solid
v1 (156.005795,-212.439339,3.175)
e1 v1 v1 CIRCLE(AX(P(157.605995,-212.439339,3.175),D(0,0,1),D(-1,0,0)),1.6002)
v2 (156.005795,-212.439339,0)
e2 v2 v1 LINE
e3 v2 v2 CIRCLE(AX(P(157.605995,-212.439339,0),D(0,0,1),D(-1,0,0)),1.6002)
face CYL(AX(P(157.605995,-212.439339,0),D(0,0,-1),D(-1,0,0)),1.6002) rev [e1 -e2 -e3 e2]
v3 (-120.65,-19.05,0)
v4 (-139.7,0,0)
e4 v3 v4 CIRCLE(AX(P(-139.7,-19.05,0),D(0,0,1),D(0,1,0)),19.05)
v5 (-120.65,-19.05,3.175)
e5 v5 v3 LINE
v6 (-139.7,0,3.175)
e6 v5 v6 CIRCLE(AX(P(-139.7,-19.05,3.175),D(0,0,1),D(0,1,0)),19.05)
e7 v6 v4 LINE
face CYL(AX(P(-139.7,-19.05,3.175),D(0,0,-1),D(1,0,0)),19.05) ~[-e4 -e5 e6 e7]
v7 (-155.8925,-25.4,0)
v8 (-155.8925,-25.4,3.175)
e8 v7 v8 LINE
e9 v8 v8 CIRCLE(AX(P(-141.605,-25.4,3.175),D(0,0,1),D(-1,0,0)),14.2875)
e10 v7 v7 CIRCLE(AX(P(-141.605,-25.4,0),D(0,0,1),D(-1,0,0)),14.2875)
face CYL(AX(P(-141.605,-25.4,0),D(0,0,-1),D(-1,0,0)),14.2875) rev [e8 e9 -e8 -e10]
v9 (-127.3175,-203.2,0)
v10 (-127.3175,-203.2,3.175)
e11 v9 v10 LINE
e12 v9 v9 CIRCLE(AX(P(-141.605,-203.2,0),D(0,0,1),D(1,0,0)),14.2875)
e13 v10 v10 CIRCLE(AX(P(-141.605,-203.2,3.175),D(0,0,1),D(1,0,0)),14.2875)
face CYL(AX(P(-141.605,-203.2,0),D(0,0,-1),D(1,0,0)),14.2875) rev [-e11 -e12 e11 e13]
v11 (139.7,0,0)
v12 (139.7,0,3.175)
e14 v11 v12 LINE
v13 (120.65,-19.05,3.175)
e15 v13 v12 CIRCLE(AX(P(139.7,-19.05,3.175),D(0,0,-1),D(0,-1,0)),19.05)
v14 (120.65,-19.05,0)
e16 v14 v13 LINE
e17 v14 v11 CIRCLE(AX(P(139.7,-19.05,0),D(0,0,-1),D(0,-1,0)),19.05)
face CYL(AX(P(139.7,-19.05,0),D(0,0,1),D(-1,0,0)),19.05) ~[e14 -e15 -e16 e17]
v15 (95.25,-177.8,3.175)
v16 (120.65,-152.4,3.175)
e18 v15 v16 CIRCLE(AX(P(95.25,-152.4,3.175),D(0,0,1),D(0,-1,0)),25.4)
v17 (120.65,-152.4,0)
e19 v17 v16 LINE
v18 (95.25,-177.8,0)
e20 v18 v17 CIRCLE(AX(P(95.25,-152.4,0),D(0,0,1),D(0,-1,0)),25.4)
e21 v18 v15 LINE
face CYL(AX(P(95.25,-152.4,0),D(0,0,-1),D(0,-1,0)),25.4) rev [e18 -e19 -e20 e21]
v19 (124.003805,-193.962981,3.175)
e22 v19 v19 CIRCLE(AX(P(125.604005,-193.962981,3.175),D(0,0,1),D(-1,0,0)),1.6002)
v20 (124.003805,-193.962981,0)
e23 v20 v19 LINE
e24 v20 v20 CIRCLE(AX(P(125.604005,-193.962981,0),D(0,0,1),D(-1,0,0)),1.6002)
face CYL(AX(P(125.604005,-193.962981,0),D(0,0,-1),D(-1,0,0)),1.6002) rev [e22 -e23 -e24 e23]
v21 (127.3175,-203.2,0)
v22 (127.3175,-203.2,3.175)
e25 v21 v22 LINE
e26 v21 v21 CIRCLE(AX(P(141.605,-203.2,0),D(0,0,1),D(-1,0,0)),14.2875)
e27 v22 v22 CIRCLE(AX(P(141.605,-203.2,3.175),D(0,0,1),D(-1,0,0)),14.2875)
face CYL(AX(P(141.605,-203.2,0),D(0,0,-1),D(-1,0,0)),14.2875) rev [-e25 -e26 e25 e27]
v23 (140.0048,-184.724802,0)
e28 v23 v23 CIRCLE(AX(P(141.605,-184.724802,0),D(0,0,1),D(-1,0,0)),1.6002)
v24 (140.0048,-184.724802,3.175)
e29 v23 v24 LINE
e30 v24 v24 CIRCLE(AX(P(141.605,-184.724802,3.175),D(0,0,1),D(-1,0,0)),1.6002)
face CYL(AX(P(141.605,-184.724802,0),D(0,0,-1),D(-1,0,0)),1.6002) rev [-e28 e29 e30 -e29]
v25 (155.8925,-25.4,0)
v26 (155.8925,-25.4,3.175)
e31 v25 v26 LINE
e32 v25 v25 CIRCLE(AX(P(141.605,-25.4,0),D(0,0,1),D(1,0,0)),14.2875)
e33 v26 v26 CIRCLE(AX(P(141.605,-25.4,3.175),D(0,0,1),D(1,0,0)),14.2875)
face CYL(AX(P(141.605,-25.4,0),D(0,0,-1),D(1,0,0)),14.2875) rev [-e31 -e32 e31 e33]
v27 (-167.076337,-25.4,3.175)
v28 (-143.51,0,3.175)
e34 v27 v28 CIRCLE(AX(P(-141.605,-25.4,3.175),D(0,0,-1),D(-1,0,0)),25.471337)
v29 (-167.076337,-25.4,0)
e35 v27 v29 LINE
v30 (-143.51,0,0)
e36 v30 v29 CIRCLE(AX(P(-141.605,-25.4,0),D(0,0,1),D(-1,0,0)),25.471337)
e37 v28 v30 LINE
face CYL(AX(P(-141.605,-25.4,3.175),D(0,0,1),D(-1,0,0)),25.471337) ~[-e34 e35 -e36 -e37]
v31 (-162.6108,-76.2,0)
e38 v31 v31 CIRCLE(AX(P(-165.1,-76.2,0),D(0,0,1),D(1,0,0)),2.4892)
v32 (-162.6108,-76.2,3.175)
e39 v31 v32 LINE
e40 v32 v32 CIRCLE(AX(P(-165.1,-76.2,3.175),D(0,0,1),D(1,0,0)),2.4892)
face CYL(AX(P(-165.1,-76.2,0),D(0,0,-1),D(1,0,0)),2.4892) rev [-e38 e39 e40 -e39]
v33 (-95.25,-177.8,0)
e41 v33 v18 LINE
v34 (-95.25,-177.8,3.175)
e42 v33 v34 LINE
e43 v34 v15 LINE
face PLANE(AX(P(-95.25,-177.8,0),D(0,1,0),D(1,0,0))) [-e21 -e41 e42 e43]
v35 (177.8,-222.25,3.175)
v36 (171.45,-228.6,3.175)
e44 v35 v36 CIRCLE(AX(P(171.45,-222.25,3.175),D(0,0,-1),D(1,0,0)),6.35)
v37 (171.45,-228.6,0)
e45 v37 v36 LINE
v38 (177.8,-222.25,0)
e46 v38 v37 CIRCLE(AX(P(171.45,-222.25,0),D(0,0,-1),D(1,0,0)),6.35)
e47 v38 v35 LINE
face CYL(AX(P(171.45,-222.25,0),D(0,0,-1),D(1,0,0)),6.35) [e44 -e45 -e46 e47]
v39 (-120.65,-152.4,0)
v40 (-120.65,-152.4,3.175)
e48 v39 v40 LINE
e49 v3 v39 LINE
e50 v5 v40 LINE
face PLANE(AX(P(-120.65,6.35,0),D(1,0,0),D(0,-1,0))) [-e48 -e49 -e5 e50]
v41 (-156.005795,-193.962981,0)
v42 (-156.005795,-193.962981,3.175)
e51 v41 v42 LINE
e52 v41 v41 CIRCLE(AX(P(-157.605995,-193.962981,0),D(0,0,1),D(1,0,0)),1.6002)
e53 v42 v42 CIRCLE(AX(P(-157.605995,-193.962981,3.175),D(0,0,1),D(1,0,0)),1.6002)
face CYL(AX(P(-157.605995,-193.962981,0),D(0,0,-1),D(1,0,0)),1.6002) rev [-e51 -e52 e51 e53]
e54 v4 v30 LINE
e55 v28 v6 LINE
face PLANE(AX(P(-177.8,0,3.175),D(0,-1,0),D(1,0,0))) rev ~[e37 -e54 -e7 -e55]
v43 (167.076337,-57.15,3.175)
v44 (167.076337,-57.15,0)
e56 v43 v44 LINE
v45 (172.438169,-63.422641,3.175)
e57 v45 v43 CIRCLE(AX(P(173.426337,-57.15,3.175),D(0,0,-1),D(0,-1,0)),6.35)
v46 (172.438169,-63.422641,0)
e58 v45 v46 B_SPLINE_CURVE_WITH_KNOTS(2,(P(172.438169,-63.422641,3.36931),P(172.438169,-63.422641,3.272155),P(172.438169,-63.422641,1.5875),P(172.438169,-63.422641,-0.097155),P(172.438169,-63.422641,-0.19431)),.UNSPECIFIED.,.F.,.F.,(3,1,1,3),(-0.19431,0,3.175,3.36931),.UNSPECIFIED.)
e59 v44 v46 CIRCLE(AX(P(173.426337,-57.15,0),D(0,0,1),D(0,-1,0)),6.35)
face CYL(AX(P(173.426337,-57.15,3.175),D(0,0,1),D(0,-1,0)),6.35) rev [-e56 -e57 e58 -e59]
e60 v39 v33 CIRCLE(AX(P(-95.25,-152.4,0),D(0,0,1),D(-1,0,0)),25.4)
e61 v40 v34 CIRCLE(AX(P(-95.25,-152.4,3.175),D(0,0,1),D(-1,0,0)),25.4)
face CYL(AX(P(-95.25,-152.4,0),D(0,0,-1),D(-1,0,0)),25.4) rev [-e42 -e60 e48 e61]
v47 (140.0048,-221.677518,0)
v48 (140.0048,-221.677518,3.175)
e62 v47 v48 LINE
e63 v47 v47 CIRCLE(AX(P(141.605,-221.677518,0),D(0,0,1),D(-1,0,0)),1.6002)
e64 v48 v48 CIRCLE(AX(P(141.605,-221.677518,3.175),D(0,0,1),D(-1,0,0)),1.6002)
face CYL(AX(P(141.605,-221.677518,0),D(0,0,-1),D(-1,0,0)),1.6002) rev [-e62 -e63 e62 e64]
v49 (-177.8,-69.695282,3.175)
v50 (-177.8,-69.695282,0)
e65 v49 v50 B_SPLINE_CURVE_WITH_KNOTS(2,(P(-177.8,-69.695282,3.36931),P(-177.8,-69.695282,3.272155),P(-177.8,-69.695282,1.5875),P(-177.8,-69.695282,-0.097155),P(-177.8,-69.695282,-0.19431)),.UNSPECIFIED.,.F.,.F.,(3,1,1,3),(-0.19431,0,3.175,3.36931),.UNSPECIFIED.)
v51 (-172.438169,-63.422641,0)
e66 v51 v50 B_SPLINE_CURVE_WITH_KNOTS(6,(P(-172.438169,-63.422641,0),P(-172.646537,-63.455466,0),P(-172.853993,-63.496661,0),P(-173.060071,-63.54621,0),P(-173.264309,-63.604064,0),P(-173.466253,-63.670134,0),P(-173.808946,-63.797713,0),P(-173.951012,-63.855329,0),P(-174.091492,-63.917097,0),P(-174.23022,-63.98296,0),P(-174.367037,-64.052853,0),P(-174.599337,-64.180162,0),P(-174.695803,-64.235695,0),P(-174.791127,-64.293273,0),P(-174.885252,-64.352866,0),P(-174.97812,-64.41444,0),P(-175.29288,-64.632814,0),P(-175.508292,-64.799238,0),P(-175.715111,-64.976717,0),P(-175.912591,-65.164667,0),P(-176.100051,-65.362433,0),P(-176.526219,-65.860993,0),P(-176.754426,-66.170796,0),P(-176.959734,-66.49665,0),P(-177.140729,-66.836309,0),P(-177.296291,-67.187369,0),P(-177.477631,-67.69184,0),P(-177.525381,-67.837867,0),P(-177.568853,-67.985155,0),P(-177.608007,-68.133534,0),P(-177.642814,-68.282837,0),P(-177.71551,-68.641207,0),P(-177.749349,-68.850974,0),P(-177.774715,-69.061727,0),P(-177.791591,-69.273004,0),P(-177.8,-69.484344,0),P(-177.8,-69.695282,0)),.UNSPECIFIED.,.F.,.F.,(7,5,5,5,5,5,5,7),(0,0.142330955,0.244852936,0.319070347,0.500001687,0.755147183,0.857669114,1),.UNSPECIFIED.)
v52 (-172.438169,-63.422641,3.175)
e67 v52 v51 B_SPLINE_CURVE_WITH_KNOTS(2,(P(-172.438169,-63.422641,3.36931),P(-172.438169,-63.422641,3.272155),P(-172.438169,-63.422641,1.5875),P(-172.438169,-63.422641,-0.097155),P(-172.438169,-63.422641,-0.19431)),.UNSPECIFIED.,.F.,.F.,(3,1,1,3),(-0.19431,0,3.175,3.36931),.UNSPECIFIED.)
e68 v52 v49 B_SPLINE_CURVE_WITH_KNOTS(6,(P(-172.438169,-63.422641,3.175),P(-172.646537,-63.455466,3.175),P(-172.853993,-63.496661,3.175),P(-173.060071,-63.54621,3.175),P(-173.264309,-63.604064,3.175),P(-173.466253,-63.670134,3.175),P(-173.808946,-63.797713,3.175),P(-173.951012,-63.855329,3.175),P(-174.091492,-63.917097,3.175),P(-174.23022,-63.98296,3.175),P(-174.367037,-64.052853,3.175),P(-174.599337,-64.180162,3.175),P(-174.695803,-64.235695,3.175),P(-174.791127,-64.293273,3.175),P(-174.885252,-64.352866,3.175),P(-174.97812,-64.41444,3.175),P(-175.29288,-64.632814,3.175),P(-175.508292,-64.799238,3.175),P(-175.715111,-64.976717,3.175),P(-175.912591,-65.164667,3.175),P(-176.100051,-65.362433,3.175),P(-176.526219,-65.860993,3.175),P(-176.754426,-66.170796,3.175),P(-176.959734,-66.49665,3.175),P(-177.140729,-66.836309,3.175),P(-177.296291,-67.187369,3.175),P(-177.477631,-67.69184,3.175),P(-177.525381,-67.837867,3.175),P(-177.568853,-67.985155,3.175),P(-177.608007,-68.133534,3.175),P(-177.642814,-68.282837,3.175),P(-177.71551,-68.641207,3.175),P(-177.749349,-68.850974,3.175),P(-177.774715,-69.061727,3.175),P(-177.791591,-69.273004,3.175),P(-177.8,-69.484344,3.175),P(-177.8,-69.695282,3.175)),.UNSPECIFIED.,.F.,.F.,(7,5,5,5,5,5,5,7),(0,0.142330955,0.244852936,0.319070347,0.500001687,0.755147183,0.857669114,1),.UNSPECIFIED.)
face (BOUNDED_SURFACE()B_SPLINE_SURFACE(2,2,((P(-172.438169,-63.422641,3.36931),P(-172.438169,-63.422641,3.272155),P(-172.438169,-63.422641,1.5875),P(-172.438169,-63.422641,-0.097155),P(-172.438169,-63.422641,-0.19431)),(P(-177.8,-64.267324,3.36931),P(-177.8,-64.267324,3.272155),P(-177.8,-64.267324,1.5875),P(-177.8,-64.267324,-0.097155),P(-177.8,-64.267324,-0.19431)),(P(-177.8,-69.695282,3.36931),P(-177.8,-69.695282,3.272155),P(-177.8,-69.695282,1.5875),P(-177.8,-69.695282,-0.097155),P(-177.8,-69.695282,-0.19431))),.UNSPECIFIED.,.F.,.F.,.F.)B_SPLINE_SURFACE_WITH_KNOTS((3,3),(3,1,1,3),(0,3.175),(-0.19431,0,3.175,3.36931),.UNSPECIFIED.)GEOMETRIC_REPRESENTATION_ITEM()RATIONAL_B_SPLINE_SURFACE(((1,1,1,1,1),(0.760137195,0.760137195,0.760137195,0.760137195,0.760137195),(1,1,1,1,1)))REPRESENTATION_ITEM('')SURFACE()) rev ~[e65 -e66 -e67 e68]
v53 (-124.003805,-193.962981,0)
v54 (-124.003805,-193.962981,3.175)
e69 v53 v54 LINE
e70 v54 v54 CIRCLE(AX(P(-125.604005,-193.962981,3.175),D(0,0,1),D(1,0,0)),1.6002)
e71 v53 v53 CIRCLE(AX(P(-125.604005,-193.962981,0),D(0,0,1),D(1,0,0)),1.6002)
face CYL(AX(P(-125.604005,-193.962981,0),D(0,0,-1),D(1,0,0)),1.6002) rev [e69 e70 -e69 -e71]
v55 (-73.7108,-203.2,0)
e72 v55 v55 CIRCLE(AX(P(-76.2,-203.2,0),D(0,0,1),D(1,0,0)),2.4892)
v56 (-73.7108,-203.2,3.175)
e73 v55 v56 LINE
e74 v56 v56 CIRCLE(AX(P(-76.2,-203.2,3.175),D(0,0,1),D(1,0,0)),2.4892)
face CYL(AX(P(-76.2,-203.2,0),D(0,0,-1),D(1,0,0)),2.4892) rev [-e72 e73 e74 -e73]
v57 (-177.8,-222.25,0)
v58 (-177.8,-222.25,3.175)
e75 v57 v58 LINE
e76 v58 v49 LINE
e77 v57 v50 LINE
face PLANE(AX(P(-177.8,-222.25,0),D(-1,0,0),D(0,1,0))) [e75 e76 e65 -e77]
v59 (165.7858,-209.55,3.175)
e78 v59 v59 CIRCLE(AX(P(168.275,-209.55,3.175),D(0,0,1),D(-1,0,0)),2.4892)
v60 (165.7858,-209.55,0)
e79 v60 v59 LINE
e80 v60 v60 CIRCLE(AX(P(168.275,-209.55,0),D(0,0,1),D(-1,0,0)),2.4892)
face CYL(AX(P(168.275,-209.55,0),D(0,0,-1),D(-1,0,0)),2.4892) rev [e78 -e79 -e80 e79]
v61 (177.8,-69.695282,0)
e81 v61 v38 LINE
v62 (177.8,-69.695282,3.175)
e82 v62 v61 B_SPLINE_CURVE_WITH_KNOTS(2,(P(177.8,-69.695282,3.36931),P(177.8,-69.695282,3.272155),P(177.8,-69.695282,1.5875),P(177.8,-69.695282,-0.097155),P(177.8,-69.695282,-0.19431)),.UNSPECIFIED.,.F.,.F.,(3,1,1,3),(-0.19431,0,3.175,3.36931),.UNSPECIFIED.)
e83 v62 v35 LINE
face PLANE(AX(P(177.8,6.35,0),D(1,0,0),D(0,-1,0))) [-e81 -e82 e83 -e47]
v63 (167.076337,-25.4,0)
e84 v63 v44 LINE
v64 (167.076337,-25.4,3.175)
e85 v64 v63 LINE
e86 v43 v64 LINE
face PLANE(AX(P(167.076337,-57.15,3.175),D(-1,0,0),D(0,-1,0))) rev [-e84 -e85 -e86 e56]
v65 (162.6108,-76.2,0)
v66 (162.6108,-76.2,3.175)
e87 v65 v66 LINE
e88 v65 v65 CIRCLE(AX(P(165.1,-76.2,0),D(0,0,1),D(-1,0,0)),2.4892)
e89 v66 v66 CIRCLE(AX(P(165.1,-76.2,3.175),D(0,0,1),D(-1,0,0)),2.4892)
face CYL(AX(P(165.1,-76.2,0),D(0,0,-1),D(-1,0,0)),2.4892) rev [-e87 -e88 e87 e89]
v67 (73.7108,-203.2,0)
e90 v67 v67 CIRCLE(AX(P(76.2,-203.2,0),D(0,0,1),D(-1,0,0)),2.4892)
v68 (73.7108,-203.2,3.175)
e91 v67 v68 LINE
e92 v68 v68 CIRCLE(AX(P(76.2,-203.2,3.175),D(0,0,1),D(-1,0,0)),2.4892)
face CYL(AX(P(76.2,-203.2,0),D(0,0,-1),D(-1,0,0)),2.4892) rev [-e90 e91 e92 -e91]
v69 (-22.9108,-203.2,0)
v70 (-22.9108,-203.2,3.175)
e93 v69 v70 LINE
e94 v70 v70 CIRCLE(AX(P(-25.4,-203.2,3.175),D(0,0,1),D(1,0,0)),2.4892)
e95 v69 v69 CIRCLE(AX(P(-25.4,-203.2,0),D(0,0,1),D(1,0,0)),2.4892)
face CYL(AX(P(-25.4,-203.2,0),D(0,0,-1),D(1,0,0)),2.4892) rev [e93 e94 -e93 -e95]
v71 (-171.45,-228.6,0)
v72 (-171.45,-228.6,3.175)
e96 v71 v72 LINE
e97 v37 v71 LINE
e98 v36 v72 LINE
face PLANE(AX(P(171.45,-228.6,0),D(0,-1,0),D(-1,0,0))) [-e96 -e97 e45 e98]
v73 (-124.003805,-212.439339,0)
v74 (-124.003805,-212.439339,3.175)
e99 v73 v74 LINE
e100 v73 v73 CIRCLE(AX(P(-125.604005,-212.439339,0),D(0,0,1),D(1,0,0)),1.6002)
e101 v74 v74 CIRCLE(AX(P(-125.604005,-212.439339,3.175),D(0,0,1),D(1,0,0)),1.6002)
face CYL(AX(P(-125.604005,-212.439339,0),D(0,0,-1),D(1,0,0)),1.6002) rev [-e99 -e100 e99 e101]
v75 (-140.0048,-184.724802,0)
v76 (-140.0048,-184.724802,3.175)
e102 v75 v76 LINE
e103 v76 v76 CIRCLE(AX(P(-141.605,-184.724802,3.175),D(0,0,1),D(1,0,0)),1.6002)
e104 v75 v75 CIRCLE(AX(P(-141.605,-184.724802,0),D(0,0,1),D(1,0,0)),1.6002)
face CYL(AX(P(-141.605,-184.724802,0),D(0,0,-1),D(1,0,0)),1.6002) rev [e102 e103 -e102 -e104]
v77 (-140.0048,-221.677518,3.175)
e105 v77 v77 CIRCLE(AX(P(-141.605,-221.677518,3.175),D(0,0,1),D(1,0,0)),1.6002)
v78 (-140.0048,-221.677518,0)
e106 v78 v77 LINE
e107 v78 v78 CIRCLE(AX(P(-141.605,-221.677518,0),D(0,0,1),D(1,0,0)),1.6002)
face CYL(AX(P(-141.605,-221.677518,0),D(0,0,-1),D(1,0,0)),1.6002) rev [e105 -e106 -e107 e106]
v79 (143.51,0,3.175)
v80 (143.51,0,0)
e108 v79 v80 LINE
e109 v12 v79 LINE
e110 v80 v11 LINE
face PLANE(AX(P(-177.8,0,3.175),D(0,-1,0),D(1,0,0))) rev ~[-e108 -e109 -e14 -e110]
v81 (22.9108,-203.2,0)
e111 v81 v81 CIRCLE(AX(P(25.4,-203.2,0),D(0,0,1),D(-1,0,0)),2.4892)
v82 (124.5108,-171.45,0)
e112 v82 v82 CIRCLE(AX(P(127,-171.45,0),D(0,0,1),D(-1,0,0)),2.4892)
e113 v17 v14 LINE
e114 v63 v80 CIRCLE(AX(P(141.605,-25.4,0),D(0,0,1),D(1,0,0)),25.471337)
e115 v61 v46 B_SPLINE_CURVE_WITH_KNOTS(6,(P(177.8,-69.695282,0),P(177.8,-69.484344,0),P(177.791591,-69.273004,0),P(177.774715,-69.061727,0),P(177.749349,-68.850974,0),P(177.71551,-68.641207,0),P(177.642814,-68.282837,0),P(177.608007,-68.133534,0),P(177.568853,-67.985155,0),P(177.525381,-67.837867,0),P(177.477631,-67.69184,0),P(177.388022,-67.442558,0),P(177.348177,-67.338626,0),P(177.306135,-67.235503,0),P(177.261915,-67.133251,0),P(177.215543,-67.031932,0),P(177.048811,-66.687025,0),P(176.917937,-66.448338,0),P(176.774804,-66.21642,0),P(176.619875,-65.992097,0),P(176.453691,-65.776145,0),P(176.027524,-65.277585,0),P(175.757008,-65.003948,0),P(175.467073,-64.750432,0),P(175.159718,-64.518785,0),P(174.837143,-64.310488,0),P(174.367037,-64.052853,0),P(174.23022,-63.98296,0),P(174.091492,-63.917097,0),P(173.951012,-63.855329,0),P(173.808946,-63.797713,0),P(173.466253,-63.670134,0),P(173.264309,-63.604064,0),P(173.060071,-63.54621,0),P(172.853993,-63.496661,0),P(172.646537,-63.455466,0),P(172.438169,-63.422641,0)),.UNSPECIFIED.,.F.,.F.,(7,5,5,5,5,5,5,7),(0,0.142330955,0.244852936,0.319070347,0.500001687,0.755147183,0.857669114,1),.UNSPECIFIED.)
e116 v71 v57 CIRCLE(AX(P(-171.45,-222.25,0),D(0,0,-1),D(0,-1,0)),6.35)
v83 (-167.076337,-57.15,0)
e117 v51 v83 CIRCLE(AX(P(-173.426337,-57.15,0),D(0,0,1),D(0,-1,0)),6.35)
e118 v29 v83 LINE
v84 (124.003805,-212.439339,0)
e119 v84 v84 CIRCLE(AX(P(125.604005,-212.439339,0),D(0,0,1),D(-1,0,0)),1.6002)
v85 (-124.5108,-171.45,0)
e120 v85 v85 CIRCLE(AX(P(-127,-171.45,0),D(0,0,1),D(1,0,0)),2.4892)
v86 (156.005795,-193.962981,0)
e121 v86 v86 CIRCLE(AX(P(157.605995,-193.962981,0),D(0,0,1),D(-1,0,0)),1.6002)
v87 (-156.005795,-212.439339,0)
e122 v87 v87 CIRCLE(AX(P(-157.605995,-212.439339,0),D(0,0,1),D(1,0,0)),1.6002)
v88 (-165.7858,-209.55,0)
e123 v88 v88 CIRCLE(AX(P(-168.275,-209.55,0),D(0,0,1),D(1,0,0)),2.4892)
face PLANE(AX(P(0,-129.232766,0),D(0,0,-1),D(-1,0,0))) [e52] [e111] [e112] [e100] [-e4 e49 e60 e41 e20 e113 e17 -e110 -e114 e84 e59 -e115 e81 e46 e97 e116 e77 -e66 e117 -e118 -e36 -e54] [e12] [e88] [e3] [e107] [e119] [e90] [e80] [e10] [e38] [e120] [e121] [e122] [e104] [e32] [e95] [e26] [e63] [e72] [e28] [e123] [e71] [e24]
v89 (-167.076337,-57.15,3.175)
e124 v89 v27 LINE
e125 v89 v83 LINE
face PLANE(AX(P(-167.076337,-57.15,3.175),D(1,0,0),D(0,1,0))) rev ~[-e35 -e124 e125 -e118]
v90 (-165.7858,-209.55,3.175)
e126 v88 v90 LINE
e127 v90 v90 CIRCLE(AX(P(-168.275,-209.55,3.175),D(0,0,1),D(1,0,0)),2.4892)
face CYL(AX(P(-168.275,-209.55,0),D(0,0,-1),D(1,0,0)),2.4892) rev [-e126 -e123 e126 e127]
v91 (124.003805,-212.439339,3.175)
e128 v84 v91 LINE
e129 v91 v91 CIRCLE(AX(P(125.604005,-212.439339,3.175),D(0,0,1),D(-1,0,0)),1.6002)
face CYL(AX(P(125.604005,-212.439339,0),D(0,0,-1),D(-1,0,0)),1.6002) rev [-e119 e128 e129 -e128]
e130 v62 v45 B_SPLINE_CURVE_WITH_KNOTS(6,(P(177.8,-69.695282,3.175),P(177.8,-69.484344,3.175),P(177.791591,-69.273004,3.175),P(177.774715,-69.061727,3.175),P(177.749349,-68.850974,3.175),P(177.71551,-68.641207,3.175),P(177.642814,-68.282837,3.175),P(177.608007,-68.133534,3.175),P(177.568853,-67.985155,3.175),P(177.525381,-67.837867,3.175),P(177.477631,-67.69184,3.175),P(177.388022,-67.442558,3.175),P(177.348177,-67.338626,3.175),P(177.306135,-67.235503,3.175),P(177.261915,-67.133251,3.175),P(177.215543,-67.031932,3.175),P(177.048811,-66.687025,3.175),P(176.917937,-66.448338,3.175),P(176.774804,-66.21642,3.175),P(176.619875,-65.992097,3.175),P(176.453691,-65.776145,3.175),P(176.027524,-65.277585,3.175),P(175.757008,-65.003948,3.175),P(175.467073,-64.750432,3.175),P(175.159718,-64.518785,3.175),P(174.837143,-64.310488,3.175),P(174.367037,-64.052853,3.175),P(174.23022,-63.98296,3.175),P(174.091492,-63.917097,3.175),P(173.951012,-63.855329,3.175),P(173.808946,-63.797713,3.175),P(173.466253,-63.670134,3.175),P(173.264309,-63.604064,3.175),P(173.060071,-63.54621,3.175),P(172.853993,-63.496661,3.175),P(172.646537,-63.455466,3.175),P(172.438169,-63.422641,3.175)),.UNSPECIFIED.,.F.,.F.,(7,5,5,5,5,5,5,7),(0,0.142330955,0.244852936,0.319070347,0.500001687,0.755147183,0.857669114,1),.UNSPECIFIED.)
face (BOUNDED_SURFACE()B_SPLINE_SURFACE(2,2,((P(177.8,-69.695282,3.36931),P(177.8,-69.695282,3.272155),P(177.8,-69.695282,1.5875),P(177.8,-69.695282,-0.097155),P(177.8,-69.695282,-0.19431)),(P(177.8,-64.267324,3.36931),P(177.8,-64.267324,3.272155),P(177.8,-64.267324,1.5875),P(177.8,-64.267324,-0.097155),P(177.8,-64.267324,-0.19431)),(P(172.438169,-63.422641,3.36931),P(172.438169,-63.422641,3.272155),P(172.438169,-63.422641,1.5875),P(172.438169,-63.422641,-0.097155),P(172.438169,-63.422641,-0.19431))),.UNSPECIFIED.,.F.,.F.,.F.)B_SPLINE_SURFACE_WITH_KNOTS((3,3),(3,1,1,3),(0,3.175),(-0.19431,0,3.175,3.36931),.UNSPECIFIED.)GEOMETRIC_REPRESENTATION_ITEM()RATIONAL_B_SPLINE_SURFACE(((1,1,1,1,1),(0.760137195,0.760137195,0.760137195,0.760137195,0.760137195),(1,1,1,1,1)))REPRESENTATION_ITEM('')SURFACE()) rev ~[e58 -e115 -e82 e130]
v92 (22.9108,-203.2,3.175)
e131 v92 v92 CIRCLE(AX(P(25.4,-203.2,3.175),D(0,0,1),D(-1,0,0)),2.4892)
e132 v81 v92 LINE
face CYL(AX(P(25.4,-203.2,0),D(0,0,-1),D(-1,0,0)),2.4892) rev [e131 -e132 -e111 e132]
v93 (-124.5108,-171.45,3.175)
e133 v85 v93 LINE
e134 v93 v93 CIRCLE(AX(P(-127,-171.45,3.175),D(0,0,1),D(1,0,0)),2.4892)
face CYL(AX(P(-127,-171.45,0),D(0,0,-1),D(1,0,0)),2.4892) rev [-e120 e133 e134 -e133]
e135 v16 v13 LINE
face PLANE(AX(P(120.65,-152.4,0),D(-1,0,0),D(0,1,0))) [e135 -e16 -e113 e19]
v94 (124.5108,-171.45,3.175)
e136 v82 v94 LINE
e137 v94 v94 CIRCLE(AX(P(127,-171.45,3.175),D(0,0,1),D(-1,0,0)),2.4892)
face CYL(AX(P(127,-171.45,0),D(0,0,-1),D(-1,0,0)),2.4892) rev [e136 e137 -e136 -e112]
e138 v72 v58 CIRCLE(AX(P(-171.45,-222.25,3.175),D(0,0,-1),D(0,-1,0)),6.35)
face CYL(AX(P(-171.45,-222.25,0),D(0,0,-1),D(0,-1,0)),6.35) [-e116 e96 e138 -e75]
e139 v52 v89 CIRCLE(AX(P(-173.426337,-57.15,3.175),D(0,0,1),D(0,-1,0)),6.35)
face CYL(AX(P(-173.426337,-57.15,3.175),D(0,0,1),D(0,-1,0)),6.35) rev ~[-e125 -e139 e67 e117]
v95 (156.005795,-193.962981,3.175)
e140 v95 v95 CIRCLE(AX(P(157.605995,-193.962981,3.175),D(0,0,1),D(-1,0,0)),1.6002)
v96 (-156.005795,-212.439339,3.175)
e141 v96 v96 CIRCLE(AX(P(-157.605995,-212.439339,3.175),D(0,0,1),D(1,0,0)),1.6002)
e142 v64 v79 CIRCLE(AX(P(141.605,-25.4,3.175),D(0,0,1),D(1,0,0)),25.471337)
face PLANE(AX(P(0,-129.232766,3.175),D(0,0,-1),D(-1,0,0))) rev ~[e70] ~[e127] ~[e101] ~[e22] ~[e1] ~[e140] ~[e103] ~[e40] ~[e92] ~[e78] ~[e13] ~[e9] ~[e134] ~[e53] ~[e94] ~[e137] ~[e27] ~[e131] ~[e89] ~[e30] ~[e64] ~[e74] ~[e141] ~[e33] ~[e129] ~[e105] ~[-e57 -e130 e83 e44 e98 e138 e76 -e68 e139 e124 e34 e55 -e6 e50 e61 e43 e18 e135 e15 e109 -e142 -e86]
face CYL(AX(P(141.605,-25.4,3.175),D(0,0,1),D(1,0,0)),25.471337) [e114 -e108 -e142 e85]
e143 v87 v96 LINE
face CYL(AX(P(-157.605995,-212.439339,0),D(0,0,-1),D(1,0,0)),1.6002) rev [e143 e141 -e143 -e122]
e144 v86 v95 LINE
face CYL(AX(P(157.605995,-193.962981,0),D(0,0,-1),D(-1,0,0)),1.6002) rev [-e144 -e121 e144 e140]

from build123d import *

# Parameters (mm, degrees)
SKETCH1_R           = 14.2875
SKETCH1_R_2         = 1.6002
SKETCH1_R_3         = 2.4892
BOSS_EXTRUDE3_DEPTH = 3.175
SKETCH2_W           = 355.6
SKETCH2_H           = 19.05
CUT_EXTRUDE1_DEPTH  = 290.621961572
FILLET1_R           = 19.05
CUT_EXTRUDE2_DEPTH  = 290.621961572
FILLET2_R           = 6.35


with BuildPart() as part:
    # Sketch1 → Boss-Extrude3 (new body)
    with BuildSketch(Plane.XY):
        with BuildLine():
            Line((120.65, -152.4), (120.65, -6.35))
            Line((120.65, -6.35), (120.65, 6.35))
            ThreePointArc((120.65, 6.35), (124.369743879, 15.330256121), (133.35, 19.05))
            Line((133.35, 19.05), (165.1, 19.05))
            ThreePointArc((165.1, 19.05), (174.080256121, 15.330256121), (177.8, 6.35))
            Line((177.8, 6.35), (177.8, -6.35))
            Line((177.8, -6.35), (177.8, -222.25))
            ThreePointArc((177.8, -222.25), (175.940128061, -226.740128061), (171.45, -228.6))
            Line((171.45, -228.6), (12.7, -228.6))
            Line((12.7, -228.6), (-12.7, -228.6))
            Line((-12.7, -228.6), (-171.45, -228.6))
            ThreePointArc((-171.45, -228.6), (-175.940128061, -226.740128061), (-177.8, -222.25))
            Line((-177.8, -222.25), (-177.8, -6.35))
            Line((-177.8, -6.35), (-177.8, 6.35))
            ThreePointArc((-177.8, 6.35), (-174.080256121, 15.330256121), (-165.1, 19.05))
            Line((-165.1, 19.05), (-133.35, 19.05))
            ThreePointArc((-133.35, 19.05), (-124.369743879, 15.330256121), (-120.65, 6.35))
            Line((-120.65, 6.35), (-120.65, -6.35))
            Line((-120.65, -6.35), (-120.65, -152.4))
            ThreePointArc((-120.65, -152.4), (-113.210512242, -170.360512242), (-95.25, -177.8))
            Line((-95.25, -177.8), (-12.7, -177.8))
            Line((-12.7, -177.8), (12.7, -177.8))
            Line((12.7, -177.8), (95.25, -177.8))
            ThreePointArc((95.25, -177.8), (113.210512242, -170.360512242), (120.65, -152.4))
        make_face()
        with Locations((141.605, -25.4)):
            Circle(SKETCH1_R, mode=Mode.SUBTRACT)
        with Locations(Location((-141.605, -25.4, 0), (0, 0, 180))):
            Circle(SKETCH1_R, mode=Mode.SUBTRACT)
        with Locations((-141.605, -203.2)):
            Circle(SKETCH1_R, mode=Mode.SUBTRACT)
        with Locations((-141.605, -184.724802)):
            Circle(SKETCH1_R_2, mode=Mode.SUBTRACT)
        with Locations((-125.604004596, -193.962981004)):
            Circle(SKETCH1_R_2, mode=Mode.SUBTRACT)
        with Locations((-125.604004596, -212.439339011)):
            Circle(SKETCH1_R_2, mode=Mode.SUBTRACT)
        with Locations((-141.605, -221.677518015)):
            Circle(SKETCH1_R_2, mode=Mode.SUBTRACT)
        with Locations((-157.605995404, -212.439339011)):
            Circle(SKETCH1_R_2, mode=Mode.SUBTRACT)
        with Locations((-157.605995404, -193.962981004)):
            Circle(SKETCH1_R_2, mode=Mode.SUBTRACT)
        with Locations(Location((157.605995404, -212.439339011, 0), (0, 0, 180))):
            Circle(SKETCH1_R_2, mode=Mode.SUBTRACT)
        with Locations(Location((157.605995404, -193.962981004, 0), (0, 0, 180))):
            Circle(SKETCH1_R_2, mode=Mode.SUBTRACT)
        with Locations(Location((141.605, -184.724802, 0), (0, 0, 180))):
            Circle(SKETCH1_R_2, mode=Mode.SUBTRACT)
        with Locations(Location((125.604004596, -193.962981004, 0), (0, 0, 180))):
            Circle(SKETCH1_R_2, mode=Mode.SUBTRACT)
        with Locations(Location((125.604004596, -212.439339011, 0), (0, 0, 180))):
            Circle(SKETCH1_R_2, mode=Mode.SUBTRACT)
        with Locations(Location((141.605, -221.677518015, 0), (0, 0, 180))):
            Circle(SKETCH1_R_2, mode=Mode.SUBTRACT)
        with Locations(Location((141.605, -203.2, 0), (0, 0, 180))):
            Circle(SKETCH1_R, mode=Mode.SUBTRACT)
        with Locations((-76.2, -203.2)):
            Circle(SKETCH1_R_3, mode=Mode.SUBTRACT)
        with Locations(Location((76.2, -203.2, 0), (0, 0, 180))):
            Circle(SKETCH1_R_3, mode=Mode.SUBTRACT)
        with Locations((-25.4, -203.2)):
            Circle(SKETCH1_R_3, mode=Mode.SUBTRACT)
        with Locations((-127, -171.45)):
            Circle(SKETCH1_R_3, mode=Mode.SUBTRACT)
        with Locations((-149.225, 6.35)):
            Circle(SKETCH1_R_3, mode=Mode.SUBTRACT)
        with Locations(Location((127, -171.45, 0), (0, 0, 180))):
            Circle(SKETCH1_R_3, mode=Mode.SUBTRACT)
        with Locations(Location((149.225, 6.35, 0), (0, 0, 180))):
            Circle(SKETCH1_R_3, mode=Mode.SUBTRACT)
        with Locations((-168.275, -209.55)):
            Circle(SKETCH1_R_3, mode=Mode.SUBTRACT)
        with Locations(Location((168.275, -209.55, 0), (0, 0, 180))):
            Circle(SKETCH1_R_3, mode=Mode.SUBTRACT)
        with Locations((-165.1, -76.2)):
            Circle(SKETCH1_R_3, mode=Mode.SUBTRACT)
        with Locations(Location((165.1, -76.2, 0), (0, 0, 180))):
            Circle(SKETCH1_R_3, mode=Mode.SUBTRACT)
        with Locations(Location((25.4, -203.2, 0), (0, 0, 180))):
            Circle(SKETCH1_R_3, mode=Mode.SUBTRACT)
    extrude(amount=BOSS_EXTRUDE3_DEPTH)

    # Sketch2 → Cut-Extrude1 (cut, through all)
    with BuildSketch(Plane.XY.offset(3.175)):
        with Locations((0, 9.525)):
            Rectangle(SKETCH2_W, SKETCH2_H)
    extrude(amount=-CUT_EXTRUDE1_DEPTH, mode=Mode.SUBTRACT)

    # Fillet1
    fillet1_edges = [part.edges().sort_by_distance(p)[0] for p in [
        (-177.8, 0, 1.5875),
        (120.65, 0, 1.5875),
        (177.8, 0, 1.5875),
        (-120.65, 0, 1.5875),
    ]]
    fillet(fillet1_edges, radius=FILLET1_R)

    # Sketch3 → Cut-Extrude2 (cut, through all)
    with BuildSketch(Plane.XY.offset(3.175)):
        with BuildLine():
            ThreePointArc((-177.8, -19.05), (-172.220384182, -5.579615818), (-158.75, 0))
            Line((-158.75, 0), (-177.8, 0))
            Line((-177.8, 0), (-177.8, -19.05))
        make_face()
        with BuildLine():
            Line((-167.076337323, -57.15), (-167.076337323, -25.4))
            ThreePointArc((-167.076337323, -25.4), (-160.277331437, -8.075651132), (-143.51, 0))
            Line((-143.51, 0), (-158.75, 0))
            ThreePointArc((-158.75, 0), (-172.220384182, -5.579615818), (-177.8, -19.05))
            Line((-177.8, -19.05), (-177.8, -63.5))
            Line((-177.8, -63.5), (-173.426337323, -63.5))
            ThreePointArc((-173.426337323, -63.5), (-168.936209262, -61.640128061), (-167.076337323, -57.15))
        make_face()
    cut_extrude2 = extrude(amount=-CUT_EXTRUDE2_DEPTH, mode=Mode.SUBTRACT)

    # Mirror1: Cut-Extrude2 across plane
    add(cut_extrude2.mirror(Plane(origin=(0, 0, 0), x_dir=(0, 0, 1), z_dir=(1, 0, 0))), mode=Mode.SUBTRACT)

    # Fillet2
    fillet2_edges = [part.edges().sort_by_distance(p)[0] for p in [
        (177.8, -63.5, 1.5875),
        (-177.8, -63.5, 1.5875),
    ]]
    fillet(fillet2_edges, radius=FILLET2_R)


solid = part.part
